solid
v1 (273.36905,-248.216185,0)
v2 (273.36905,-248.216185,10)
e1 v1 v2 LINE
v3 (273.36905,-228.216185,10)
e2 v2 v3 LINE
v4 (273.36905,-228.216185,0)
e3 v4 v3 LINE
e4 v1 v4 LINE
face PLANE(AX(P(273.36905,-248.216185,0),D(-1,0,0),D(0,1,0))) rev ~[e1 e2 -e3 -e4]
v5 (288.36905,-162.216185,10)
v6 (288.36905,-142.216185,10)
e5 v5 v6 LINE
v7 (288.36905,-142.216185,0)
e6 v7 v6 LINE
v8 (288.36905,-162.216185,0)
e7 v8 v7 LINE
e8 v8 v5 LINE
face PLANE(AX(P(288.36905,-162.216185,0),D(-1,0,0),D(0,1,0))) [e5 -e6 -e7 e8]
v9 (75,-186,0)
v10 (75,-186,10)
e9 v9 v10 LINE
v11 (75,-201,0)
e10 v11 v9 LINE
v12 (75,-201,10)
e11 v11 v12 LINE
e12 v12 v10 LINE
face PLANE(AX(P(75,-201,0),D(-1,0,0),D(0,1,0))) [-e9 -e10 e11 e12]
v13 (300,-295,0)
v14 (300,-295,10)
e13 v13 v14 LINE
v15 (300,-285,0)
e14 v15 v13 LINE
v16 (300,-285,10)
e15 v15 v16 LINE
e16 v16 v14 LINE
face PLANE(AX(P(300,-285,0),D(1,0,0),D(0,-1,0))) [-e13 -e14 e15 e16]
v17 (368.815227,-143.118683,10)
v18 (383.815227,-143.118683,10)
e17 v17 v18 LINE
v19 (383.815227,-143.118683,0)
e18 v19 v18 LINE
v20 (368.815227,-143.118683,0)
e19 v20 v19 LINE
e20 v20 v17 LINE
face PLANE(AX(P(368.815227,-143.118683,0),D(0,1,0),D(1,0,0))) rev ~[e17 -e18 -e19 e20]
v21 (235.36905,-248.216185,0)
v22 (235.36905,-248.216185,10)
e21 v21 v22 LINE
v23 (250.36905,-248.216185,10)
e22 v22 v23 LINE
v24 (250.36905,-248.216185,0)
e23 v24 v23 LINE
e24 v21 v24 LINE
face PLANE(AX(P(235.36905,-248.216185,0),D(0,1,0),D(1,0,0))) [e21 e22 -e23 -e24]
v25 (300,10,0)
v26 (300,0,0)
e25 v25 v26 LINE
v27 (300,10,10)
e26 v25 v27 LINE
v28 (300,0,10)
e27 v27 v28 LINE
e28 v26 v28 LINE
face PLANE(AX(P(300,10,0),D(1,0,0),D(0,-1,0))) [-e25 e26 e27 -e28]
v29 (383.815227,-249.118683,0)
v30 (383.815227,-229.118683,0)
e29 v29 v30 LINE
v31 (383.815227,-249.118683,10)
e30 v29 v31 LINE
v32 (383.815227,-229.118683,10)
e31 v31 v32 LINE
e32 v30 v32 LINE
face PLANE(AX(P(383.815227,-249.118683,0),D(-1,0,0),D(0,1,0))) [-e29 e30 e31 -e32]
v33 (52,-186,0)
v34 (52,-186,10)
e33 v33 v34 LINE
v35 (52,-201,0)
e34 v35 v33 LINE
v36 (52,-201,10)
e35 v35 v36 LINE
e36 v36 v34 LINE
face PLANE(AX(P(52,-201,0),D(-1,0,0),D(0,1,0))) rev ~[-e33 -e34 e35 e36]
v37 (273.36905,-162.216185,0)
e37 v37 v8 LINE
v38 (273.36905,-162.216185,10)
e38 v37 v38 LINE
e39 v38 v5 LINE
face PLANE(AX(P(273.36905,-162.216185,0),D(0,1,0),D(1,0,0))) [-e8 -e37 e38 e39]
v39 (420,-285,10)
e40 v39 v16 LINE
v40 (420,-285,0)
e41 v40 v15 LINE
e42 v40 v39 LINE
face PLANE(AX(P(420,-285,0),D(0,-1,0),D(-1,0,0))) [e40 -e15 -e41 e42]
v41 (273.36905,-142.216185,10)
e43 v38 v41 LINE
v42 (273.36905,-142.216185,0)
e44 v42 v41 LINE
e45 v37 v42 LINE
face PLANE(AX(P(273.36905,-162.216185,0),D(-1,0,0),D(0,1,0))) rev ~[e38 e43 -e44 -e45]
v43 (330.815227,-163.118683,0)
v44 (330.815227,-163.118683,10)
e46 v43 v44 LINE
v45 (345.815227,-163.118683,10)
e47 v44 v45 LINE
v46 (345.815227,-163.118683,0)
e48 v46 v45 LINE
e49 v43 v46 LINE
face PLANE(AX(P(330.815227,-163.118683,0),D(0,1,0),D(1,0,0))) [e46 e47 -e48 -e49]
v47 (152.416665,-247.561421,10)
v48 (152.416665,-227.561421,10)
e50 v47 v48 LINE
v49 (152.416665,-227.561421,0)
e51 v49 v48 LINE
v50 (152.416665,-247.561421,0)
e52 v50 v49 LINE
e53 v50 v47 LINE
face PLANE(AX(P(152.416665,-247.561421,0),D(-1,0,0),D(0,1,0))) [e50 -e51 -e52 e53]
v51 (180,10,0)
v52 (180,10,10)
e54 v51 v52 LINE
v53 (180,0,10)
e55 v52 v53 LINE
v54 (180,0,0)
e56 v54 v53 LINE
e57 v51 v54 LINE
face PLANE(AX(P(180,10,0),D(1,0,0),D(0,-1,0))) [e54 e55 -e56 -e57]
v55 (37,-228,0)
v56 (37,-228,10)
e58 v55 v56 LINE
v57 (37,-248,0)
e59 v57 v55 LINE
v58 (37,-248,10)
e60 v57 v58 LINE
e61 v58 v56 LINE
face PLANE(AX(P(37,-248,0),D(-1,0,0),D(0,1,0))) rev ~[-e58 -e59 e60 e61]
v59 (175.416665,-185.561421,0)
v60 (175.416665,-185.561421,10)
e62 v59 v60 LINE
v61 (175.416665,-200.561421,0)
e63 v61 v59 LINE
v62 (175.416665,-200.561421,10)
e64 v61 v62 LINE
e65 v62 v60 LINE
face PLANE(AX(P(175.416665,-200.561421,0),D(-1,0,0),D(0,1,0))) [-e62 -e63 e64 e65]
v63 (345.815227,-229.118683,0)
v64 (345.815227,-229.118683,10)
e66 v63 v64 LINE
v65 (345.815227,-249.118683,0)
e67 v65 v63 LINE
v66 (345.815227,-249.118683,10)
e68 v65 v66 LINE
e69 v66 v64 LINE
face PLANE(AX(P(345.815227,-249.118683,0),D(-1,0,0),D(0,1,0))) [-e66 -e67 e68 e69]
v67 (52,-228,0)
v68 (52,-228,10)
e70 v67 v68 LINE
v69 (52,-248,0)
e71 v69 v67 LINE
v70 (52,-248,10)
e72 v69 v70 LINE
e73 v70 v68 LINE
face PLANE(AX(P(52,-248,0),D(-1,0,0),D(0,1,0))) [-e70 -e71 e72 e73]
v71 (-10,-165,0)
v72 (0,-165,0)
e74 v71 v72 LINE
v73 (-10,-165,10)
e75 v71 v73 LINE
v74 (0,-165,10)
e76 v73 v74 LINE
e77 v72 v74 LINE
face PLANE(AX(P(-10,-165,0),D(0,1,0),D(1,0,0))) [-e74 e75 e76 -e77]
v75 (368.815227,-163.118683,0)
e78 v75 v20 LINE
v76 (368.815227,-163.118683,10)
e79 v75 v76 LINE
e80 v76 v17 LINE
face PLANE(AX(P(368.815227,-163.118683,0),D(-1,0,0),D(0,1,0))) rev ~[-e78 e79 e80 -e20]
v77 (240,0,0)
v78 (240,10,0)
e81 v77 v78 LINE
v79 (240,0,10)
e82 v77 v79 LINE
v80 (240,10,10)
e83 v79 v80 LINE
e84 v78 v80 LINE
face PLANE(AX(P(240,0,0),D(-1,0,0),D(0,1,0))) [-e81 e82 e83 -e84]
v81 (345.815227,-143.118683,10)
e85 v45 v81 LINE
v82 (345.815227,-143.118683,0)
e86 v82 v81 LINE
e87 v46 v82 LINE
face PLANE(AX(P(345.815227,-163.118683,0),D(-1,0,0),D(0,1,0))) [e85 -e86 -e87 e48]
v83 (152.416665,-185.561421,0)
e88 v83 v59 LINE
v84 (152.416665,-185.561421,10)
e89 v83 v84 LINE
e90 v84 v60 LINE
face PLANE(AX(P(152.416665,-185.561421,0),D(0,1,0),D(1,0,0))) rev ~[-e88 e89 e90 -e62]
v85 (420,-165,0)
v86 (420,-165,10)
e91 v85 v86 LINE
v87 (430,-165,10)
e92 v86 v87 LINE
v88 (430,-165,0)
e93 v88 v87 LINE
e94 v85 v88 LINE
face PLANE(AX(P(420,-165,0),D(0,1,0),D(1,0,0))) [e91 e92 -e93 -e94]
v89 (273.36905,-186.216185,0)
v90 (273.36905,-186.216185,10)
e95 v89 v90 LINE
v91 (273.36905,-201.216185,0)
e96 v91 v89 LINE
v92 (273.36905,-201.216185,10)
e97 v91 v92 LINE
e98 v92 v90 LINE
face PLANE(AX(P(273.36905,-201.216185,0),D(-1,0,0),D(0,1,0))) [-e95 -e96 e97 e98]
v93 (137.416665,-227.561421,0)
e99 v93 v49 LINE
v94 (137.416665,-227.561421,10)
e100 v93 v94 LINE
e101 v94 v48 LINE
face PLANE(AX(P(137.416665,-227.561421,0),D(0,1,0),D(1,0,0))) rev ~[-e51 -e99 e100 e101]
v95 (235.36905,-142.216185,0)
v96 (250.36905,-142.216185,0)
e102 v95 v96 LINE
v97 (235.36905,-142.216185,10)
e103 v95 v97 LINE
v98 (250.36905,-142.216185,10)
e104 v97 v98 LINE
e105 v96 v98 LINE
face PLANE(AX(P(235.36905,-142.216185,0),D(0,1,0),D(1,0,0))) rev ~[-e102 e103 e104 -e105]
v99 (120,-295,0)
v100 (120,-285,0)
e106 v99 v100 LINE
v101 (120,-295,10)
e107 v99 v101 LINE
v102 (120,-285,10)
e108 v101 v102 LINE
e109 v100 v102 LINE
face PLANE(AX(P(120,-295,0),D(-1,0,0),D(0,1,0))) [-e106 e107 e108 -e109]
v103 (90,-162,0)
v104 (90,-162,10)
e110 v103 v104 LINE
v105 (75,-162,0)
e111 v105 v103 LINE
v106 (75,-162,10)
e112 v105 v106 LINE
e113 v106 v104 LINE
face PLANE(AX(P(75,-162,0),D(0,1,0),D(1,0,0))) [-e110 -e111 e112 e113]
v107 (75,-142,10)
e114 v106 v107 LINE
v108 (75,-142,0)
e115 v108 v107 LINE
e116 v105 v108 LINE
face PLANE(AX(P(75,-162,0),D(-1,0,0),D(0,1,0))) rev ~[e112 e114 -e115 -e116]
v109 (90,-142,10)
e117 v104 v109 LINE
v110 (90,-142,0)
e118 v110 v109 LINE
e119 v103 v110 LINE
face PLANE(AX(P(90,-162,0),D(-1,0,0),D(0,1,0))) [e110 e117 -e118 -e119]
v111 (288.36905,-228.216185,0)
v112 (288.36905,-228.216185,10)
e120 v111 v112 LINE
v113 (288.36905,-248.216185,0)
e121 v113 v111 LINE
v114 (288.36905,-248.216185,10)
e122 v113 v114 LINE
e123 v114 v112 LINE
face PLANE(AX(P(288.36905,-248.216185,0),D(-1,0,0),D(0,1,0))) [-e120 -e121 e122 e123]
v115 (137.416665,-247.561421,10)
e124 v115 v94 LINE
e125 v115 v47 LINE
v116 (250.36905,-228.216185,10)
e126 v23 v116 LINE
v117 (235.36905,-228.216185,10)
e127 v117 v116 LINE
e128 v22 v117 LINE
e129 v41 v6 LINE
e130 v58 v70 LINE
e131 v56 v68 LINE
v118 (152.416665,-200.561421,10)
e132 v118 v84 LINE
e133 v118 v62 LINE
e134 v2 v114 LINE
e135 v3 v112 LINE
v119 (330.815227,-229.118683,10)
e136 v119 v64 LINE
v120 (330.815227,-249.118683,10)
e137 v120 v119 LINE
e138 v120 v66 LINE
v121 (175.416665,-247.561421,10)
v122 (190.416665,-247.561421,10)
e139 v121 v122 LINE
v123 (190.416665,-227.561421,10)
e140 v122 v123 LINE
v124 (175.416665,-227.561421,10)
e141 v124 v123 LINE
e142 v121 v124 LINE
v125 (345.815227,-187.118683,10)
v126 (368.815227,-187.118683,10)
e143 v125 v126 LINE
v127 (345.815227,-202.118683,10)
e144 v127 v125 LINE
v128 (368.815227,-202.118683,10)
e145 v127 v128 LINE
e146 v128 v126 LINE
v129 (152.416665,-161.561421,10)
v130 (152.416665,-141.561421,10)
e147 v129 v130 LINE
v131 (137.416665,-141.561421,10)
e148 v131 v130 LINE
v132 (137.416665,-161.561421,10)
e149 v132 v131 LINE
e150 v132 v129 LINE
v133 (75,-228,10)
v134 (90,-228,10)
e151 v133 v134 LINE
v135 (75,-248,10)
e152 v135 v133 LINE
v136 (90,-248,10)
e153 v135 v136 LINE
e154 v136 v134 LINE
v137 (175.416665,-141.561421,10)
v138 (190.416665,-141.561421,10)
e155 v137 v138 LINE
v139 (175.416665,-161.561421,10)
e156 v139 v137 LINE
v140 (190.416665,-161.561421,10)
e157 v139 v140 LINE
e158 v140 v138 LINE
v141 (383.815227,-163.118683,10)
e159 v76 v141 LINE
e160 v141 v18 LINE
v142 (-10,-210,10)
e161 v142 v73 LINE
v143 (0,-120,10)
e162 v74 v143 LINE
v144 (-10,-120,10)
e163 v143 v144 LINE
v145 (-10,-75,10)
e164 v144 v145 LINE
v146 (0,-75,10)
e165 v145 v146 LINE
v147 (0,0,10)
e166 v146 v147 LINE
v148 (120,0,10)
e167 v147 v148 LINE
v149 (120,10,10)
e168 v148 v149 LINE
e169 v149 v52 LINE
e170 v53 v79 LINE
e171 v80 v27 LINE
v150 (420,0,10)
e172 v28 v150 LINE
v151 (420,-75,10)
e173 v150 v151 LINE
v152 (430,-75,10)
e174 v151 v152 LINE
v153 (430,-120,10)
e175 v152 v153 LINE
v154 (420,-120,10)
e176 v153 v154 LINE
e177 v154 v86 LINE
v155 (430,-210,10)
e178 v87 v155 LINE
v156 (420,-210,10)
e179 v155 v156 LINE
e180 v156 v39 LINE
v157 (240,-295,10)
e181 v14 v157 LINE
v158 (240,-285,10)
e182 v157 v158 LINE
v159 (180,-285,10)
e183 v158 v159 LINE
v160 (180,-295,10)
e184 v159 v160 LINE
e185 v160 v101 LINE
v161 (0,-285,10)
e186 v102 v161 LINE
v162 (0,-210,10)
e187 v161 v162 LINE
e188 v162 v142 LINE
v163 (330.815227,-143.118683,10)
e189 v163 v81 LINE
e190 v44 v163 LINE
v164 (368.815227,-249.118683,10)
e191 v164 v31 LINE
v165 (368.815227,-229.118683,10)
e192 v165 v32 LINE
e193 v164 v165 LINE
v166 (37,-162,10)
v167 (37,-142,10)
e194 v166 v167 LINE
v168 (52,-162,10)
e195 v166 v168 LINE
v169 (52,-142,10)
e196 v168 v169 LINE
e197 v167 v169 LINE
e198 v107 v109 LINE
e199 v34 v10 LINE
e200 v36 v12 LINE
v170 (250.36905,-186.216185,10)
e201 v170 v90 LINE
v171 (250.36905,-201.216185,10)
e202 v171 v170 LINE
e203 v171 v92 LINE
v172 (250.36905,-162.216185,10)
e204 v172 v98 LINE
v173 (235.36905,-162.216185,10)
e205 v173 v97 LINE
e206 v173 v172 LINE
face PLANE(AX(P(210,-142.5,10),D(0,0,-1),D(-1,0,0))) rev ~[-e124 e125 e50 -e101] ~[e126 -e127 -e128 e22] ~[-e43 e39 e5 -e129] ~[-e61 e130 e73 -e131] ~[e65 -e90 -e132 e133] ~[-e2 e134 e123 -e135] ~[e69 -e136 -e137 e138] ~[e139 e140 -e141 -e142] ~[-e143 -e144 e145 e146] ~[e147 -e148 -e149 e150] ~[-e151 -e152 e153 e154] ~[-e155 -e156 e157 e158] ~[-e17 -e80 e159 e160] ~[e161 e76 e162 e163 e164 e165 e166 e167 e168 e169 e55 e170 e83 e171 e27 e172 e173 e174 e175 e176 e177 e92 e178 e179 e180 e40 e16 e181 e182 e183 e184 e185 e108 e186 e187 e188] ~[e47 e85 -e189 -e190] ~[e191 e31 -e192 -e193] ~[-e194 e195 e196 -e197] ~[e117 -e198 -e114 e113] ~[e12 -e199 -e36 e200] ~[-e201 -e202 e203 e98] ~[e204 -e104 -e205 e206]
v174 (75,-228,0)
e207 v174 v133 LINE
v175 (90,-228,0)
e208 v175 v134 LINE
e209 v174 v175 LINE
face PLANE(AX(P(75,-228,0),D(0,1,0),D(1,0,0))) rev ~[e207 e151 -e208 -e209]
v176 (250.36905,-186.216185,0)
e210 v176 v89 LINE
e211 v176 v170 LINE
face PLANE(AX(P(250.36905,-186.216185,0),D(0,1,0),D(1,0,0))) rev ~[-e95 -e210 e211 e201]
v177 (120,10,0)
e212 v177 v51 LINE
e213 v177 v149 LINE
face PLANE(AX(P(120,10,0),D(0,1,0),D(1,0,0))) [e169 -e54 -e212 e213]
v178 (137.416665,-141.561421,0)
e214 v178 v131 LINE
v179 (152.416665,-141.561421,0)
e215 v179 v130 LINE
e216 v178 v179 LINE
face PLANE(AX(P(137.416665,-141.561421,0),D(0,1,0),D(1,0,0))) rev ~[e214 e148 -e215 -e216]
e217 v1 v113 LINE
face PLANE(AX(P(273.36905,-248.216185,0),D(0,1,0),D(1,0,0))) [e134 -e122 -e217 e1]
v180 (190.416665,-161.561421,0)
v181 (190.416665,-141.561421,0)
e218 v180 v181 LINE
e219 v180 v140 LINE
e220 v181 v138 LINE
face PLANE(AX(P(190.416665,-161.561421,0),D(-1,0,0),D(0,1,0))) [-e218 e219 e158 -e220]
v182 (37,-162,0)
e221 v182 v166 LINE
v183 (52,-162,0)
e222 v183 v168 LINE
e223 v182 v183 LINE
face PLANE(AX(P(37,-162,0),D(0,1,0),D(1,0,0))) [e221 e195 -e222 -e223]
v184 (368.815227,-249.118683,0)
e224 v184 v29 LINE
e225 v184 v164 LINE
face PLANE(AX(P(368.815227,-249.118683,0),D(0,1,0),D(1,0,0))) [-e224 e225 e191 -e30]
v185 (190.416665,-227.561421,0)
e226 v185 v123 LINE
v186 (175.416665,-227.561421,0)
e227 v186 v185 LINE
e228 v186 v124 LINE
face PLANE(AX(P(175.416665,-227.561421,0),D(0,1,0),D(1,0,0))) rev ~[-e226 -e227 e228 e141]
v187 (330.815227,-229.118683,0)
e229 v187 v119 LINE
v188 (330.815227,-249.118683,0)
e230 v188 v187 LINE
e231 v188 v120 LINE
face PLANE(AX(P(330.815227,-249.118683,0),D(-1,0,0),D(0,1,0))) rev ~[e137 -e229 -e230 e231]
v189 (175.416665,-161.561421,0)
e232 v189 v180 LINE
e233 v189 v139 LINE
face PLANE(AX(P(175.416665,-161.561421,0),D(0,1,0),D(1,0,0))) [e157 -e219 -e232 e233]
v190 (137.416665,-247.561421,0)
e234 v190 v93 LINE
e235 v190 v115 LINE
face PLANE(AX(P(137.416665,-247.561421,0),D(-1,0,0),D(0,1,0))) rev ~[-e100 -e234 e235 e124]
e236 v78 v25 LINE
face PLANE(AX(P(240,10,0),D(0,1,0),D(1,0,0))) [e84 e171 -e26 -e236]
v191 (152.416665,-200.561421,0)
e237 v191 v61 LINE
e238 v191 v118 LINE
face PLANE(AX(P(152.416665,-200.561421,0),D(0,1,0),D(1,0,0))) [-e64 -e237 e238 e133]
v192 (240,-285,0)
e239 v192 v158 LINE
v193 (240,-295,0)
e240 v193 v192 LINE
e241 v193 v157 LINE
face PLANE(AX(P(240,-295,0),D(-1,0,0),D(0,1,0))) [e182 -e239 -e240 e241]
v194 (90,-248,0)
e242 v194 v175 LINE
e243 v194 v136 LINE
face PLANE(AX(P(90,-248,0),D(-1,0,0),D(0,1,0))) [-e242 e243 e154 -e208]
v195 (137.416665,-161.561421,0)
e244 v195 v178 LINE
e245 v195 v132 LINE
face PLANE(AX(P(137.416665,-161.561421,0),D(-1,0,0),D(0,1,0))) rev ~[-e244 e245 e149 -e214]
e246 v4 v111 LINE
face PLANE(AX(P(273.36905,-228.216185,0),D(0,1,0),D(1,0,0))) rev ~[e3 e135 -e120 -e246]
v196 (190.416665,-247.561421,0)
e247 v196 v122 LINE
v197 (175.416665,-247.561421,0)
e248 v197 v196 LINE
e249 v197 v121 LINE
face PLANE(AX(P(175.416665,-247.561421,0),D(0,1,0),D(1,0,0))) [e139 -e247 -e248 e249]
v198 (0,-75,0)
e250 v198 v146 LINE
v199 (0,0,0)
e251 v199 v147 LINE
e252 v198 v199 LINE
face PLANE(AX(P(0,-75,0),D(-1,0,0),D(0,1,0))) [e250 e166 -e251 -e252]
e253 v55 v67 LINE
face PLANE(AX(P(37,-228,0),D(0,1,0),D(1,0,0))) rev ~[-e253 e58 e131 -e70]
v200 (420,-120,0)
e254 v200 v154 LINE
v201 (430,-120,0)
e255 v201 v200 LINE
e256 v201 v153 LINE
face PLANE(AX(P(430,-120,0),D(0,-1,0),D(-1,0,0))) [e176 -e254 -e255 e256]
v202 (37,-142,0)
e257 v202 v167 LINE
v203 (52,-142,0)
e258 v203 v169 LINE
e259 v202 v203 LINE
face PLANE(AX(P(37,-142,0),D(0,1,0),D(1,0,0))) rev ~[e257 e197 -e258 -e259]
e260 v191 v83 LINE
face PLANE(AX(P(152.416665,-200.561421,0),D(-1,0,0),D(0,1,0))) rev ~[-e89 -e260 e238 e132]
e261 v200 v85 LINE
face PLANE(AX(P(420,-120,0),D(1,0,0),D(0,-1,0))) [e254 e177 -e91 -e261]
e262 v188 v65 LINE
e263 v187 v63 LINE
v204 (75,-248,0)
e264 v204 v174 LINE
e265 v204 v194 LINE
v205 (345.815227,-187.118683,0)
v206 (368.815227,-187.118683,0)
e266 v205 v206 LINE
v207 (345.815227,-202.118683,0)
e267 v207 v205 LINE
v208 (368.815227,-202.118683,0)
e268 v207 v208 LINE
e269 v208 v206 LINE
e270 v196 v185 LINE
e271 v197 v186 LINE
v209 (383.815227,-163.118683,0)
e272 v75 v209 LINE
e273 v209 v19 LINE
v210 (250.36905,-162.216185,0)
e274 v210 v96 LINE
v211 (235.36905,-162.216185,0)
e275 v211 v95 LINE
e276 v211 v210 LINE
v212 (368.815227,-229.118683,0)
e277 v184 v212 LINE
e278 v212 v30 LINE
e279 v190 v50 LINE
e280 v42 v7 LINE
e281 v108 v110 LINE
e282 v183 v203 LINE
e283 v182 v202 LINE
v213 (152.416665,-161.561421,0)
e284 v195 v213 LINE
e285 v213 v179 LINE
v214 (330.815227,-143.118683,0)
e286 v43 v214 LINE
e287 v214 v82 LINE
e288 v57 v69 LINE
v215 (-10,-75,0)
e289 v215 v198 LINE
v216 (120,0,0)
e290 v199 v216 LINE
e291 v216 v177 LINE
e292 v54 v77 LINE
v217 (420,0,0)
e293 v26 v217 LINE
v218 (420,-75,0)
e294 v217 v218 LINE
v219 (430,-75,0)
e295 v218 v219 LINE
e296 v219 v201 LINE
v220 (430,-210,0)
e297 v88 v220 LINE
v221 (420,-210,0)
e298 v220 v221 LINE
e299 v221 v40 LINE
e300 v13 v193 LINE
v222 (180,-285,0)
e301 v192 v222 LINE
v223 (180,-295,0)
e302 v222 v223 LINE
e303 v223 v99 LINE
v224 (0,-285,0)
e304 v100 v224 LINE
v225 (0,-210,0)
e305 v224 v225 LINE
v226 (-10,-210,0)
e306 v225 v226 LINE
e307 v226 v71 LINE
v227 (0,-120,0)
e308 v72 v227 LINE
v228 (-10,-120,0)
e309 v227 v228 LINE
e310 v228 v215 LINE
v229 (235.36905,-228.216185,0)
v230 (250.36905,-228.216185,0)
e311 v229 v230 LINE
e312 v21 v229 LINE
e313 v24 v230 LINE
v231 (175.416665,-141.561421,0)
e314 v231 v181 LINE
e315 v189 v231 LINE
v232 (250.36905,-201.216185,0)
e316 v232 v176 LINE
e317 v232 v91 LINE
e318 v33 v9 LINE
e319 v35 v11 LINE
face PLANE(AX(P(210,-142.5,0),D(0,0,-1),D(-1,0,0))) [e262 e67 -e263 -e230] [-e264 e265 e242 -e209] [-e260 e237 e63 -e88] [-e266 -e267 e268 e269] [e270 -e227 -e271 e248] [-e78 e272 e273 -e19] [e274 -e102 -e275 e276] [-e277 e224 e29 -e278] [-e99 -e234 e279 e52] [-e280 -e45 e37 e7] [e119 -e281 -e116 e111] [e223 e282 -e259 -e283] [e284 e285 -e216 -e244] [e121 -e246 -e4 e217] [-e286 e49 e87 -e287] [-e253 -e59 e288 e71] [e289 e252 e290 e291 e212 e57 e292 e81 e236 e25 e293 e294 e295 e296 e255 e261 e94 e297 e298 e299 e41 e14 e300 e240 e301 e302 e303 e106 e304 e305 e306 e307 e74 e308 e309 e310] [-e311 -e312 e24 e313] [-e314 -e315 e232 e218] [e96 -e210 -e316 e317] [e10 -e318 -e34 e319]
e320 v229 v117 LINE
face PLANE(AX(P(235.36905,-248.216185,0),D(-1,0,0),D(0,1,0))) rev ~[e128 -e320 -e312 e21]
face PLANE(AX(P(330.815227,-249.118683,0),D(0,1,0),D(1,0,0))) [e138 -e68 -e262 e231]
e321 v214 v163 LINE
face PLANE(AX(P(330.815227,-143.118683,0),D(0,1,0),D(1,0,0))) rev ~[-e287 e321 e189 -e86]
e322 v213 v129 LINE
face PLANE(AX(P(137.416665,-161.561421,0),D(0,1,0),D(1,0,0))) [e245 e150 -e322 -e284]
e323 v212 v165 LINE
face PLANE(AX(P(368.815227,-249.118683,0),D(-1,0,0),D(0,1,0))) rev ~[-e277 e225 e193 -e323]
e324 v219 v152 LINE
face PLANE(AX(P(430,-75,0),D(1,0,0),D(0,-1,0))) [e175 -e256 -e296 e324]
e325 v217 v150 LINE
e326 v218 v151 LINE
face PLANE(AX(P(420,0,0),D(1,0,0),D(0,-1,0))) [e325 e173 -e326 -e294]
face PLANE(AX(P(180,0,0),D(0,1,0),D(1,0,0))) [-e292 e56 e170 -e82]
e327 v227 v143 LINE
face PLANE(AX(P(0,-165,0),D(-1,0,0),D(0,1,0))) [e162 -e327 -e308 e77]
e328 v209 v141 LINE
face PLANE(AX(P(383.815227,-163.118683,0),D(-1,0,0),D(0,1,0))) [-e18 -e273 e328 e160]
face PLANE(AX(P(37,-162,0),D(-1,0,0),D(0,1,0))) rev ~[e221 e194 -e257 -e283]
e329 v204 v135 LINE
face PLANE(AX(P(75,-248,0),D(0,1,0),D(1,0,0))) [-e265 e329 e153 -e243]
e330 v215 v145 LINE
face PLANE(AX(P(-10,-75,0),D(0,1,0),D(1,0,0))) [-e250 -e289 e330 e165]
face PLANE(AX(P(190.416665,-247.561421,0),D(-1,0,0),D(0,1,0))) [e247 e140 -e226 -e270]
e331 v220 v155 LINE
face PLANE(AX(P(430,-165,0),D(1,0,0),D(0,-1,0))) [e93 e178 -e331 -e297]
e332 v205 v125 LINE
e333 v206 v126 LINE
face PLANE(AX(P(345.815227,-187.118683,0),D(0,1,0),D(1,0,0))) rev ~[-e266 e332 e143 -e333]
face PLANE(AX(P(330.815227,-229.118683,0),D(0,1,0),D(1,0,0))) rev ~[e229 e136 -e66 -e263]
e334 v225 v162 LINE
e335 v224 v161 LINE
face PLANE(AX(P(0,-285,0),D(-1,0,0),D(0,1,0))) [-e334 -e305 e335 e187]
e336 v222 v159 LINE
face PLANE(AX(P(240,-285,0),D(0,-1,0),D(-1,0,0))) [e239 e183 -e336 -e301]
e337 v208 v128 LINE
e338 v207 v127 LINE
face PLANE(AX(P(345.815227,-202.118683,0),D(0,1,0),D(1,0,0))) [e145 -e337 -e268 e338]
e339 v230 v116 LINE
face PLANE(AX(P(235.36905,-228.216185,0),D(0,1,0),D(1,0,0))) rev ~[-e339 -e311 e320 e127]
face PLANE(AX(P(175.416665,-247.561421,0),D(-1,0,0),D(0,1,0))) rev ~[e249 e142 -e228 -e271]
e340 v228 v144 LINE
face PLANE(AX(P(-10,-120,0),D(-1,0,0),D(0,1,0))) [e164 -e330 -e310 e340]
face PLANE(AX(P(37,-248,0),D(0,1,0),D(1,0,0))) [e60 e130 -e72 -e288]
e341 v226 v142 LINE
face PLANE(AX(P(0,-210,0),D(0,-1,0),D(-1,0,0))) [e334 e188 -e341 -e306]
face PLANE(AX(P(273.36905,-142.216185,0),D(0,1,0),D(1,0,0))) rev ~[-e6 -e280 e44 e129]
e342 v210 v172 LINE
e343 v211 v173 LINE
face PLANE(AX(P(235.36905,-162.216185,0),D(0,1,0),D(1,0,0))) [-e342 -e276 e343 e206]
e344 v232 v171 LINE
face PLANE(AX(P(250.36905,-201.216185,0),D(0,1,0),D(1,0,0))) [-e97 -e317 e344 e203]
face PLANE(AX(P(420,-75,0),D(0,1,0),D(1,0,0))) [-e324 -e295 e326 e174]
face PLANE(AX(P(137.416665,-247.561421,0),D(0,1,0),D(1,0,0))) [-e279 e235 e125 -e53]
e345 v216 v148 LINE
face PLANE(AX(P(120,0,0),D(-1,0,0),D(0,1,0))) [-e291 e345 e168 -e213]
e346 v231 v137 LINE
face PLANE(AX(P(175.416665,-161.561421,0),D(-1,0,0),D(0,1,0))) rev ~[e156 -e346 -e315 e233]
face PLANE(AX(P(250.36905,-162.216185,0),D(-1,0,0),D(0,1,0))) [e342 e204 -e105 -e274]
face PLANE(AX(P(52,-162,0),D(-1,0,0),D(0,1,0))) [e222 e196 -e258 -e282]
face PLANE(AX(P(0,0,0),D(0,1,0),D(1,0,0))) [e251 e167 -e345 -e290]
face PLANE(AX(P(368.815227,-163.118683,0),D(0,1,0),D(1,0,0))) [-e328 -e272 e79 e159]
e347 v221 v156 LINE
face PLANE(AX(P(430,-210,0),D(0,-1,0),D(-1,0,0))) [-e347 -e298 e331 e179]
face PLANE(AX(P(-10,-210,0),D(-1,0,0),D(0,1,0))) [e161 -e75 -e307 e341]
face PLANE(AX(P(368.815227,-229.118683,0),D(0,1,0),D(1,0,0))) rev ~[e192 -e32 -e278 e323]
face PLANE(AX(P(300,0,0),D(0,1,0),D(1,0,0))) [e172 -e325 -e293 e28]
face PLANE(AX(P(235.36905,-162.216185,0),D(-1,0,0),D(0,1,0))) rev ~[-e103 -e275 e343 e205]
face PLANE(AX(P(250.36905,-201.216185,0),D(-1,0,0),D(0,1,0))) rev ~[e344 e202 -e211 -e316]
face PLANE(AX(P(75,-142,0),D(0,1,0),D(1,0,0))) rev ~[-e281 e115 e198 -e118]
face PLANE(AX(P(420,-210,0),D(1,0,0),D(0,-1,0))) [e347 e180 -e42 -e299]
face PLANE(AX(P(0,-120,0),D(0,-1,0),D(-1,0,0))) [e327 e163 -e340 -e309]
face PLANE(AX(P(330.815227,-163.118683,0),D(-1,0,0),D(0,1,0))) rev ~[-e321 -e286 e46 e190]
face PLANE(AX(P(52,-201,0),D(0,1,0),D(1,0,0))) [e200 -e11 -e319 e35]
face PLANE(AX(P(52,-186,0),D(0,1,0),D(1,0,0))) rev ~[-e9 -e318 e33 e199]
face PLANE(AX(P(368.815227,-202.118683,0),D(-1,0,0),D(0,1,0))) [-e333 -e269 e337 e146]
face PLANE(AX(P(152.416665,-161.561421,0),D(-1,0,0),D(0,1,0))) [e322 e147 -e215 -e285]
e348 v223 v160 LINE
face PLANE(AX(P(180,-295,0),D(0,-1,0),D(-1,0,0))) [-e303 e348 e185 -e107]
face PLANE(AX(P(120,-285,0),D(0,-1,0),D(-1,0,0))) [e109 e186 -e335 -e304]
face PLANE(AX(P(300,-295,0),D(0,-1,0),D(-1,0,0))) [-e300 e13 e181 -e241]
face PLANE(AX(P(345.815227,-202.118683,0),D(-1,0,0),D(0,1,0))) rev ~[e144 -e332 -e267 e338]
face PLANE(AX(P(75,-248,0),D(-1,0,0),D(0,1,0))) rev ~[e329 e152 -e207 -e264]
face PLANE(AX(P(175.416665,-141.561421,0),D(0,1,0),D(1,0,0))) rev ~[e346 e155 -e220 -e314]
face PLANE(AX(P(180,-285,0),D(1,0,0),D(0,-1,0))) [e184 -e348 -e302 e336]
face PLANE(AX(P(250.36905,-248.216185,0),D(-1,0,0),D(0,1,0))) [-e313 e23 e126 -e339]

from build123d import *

# Parameters (mm, degrees)
SKETCH2_W           = 15
SKETCH2_H           = 20
SKETCH2_W_2         = 23
SKETCH2_H_2         = 15
BOSS_EXTRUDE1_DEPTH = 10


with BuildPart() as part:
    # Sketch2 → Boss-Extrude1 (new body)
    with BuildSketch(Plane.XY):
        Polygon((0, 0), (120, 0), (120, 10), (180, 10), (180, 0), (240, 0), (240, 10), (300, 10), (300, 0), (420, 0), (420, -75), (430, -75), (430, -120), (420, -120), (420, -165), (430, -165), (430, -210), (420, -210), (420, -285), (300, -285), (300, -295), (240, -295), (240, -285), (180, -285), (180, -295), (120, -295), (120, -285), (0, -285), (0, -210), (-10, -210), (-10, -165), (0, -165), (0, -120), (-10, -120), (-10, -75), (0, -75), align=None)
        with Locations((144.916665259, -151.561421388)):
            Rectangle(SKETCH2_W, SKETCH2_H, mode=Mode.SUBTRACT)
        with Locations((338.315226992, -153.118682745)):
            Rectangle(SKETCH2_W, SKETCH2_H, mode=Mode.SUBTRACT)
        with Locations((376.315226992, -153.118682745)):
            Rectangle(SKETCH2_W, SKETCH2_H, mode=Mode.SUBTRACT)
        with Locations((338.315226992, -239.118682745)):
            Rectangle(SKETCH2_W, SKETCH2_H, mode=Mode.SUBTRACT)
        with Locations((44.5, -152)):
            Rectangle(SKETCH2_W, SKETCH2_H, mode=Mode.SUBTRACT)
        with Locations((82.5, -152)):
            Rectangle(SKETCH2_W, SKETCH2_H, mode=Mode.SUBTRACT)
        with Locations((44.5, -238)):
            Rectangle(SKETCH2_W, SKETCH2_H, mode=Mode.SUBTRACT)
        with Locations((82.5, -238)):
            Rectangle(SKETCH2_W, SKETCH2_H, mode=Mode.SUBTRACT)
        with Locations((63.5, -193.5)):
            Rectangle(SKETCH2_W_2, SKETCH2_H_2, mode=Mode.SUBTRACT)
        with Locations((182.916665259, -151.561421388)):
            Rectangle(SKETCH2_W, SKETCH2_H, mode=Mode.SUBTRACT)
        with Locations((144.916665259, -237.561421388)):
            Rectangle(SKETCH2_W, SKETCH2_H, mode=Mode.SUBTRACT)
        with Locations((182.916665259, -237.561421388)):
            Rectangle(SKETCH2_W, SKETCH2_H, mode=Mode.SUBTRACT)
        with Locations((163.916665259, -193.061421388)):
            Rectangle(SKETCH2_W_2, SKETCH2_H_2, mode=Mode.SUBTRACT)
        with Locations((242.869049507, -152.216184795)):
            Rectangle(SKETCH2_W, SKETCH2_H, mode=Mode.SUBTRACT)
        with Locations((280.869049507, -152.216184795)):
            Rectangle(SKETCH2_W, SKETCH2_H, mode=Mode.SUBTRACT)
        with Locations((242.869049507, -238.216184795)):
            Rectangle(SKETCH2_W, SKETCH2_H, mode=Mode.SUBTRACT)
        with Locations((280.869049507, -238.216184795)):
            Rectangle(SKETCH2_W, SKETCH2_H, mode=Mode.SUBTRACT)
        with Locations((261.869049507, -193.716184795)):
            Rectangle(SKETCH2_W_2, SKETCH2_H_2, mode=Mode.SUBTRACT)
        with Locations((376.315226992, -239.118682745)):
            Rectangle(SKETCH2_W, SKETCH2_H, mode=Mode.SUBTRACT)
        with Locations((357.315226992, -194.618682745)):
            Rectangle(SKETCH2_W_2, SKETCH2_H_2, mode=Mode.SUBTRACT)
    extrude(amount=BOSS_EXTRUDE1_DEPTH)


solid = part.part
